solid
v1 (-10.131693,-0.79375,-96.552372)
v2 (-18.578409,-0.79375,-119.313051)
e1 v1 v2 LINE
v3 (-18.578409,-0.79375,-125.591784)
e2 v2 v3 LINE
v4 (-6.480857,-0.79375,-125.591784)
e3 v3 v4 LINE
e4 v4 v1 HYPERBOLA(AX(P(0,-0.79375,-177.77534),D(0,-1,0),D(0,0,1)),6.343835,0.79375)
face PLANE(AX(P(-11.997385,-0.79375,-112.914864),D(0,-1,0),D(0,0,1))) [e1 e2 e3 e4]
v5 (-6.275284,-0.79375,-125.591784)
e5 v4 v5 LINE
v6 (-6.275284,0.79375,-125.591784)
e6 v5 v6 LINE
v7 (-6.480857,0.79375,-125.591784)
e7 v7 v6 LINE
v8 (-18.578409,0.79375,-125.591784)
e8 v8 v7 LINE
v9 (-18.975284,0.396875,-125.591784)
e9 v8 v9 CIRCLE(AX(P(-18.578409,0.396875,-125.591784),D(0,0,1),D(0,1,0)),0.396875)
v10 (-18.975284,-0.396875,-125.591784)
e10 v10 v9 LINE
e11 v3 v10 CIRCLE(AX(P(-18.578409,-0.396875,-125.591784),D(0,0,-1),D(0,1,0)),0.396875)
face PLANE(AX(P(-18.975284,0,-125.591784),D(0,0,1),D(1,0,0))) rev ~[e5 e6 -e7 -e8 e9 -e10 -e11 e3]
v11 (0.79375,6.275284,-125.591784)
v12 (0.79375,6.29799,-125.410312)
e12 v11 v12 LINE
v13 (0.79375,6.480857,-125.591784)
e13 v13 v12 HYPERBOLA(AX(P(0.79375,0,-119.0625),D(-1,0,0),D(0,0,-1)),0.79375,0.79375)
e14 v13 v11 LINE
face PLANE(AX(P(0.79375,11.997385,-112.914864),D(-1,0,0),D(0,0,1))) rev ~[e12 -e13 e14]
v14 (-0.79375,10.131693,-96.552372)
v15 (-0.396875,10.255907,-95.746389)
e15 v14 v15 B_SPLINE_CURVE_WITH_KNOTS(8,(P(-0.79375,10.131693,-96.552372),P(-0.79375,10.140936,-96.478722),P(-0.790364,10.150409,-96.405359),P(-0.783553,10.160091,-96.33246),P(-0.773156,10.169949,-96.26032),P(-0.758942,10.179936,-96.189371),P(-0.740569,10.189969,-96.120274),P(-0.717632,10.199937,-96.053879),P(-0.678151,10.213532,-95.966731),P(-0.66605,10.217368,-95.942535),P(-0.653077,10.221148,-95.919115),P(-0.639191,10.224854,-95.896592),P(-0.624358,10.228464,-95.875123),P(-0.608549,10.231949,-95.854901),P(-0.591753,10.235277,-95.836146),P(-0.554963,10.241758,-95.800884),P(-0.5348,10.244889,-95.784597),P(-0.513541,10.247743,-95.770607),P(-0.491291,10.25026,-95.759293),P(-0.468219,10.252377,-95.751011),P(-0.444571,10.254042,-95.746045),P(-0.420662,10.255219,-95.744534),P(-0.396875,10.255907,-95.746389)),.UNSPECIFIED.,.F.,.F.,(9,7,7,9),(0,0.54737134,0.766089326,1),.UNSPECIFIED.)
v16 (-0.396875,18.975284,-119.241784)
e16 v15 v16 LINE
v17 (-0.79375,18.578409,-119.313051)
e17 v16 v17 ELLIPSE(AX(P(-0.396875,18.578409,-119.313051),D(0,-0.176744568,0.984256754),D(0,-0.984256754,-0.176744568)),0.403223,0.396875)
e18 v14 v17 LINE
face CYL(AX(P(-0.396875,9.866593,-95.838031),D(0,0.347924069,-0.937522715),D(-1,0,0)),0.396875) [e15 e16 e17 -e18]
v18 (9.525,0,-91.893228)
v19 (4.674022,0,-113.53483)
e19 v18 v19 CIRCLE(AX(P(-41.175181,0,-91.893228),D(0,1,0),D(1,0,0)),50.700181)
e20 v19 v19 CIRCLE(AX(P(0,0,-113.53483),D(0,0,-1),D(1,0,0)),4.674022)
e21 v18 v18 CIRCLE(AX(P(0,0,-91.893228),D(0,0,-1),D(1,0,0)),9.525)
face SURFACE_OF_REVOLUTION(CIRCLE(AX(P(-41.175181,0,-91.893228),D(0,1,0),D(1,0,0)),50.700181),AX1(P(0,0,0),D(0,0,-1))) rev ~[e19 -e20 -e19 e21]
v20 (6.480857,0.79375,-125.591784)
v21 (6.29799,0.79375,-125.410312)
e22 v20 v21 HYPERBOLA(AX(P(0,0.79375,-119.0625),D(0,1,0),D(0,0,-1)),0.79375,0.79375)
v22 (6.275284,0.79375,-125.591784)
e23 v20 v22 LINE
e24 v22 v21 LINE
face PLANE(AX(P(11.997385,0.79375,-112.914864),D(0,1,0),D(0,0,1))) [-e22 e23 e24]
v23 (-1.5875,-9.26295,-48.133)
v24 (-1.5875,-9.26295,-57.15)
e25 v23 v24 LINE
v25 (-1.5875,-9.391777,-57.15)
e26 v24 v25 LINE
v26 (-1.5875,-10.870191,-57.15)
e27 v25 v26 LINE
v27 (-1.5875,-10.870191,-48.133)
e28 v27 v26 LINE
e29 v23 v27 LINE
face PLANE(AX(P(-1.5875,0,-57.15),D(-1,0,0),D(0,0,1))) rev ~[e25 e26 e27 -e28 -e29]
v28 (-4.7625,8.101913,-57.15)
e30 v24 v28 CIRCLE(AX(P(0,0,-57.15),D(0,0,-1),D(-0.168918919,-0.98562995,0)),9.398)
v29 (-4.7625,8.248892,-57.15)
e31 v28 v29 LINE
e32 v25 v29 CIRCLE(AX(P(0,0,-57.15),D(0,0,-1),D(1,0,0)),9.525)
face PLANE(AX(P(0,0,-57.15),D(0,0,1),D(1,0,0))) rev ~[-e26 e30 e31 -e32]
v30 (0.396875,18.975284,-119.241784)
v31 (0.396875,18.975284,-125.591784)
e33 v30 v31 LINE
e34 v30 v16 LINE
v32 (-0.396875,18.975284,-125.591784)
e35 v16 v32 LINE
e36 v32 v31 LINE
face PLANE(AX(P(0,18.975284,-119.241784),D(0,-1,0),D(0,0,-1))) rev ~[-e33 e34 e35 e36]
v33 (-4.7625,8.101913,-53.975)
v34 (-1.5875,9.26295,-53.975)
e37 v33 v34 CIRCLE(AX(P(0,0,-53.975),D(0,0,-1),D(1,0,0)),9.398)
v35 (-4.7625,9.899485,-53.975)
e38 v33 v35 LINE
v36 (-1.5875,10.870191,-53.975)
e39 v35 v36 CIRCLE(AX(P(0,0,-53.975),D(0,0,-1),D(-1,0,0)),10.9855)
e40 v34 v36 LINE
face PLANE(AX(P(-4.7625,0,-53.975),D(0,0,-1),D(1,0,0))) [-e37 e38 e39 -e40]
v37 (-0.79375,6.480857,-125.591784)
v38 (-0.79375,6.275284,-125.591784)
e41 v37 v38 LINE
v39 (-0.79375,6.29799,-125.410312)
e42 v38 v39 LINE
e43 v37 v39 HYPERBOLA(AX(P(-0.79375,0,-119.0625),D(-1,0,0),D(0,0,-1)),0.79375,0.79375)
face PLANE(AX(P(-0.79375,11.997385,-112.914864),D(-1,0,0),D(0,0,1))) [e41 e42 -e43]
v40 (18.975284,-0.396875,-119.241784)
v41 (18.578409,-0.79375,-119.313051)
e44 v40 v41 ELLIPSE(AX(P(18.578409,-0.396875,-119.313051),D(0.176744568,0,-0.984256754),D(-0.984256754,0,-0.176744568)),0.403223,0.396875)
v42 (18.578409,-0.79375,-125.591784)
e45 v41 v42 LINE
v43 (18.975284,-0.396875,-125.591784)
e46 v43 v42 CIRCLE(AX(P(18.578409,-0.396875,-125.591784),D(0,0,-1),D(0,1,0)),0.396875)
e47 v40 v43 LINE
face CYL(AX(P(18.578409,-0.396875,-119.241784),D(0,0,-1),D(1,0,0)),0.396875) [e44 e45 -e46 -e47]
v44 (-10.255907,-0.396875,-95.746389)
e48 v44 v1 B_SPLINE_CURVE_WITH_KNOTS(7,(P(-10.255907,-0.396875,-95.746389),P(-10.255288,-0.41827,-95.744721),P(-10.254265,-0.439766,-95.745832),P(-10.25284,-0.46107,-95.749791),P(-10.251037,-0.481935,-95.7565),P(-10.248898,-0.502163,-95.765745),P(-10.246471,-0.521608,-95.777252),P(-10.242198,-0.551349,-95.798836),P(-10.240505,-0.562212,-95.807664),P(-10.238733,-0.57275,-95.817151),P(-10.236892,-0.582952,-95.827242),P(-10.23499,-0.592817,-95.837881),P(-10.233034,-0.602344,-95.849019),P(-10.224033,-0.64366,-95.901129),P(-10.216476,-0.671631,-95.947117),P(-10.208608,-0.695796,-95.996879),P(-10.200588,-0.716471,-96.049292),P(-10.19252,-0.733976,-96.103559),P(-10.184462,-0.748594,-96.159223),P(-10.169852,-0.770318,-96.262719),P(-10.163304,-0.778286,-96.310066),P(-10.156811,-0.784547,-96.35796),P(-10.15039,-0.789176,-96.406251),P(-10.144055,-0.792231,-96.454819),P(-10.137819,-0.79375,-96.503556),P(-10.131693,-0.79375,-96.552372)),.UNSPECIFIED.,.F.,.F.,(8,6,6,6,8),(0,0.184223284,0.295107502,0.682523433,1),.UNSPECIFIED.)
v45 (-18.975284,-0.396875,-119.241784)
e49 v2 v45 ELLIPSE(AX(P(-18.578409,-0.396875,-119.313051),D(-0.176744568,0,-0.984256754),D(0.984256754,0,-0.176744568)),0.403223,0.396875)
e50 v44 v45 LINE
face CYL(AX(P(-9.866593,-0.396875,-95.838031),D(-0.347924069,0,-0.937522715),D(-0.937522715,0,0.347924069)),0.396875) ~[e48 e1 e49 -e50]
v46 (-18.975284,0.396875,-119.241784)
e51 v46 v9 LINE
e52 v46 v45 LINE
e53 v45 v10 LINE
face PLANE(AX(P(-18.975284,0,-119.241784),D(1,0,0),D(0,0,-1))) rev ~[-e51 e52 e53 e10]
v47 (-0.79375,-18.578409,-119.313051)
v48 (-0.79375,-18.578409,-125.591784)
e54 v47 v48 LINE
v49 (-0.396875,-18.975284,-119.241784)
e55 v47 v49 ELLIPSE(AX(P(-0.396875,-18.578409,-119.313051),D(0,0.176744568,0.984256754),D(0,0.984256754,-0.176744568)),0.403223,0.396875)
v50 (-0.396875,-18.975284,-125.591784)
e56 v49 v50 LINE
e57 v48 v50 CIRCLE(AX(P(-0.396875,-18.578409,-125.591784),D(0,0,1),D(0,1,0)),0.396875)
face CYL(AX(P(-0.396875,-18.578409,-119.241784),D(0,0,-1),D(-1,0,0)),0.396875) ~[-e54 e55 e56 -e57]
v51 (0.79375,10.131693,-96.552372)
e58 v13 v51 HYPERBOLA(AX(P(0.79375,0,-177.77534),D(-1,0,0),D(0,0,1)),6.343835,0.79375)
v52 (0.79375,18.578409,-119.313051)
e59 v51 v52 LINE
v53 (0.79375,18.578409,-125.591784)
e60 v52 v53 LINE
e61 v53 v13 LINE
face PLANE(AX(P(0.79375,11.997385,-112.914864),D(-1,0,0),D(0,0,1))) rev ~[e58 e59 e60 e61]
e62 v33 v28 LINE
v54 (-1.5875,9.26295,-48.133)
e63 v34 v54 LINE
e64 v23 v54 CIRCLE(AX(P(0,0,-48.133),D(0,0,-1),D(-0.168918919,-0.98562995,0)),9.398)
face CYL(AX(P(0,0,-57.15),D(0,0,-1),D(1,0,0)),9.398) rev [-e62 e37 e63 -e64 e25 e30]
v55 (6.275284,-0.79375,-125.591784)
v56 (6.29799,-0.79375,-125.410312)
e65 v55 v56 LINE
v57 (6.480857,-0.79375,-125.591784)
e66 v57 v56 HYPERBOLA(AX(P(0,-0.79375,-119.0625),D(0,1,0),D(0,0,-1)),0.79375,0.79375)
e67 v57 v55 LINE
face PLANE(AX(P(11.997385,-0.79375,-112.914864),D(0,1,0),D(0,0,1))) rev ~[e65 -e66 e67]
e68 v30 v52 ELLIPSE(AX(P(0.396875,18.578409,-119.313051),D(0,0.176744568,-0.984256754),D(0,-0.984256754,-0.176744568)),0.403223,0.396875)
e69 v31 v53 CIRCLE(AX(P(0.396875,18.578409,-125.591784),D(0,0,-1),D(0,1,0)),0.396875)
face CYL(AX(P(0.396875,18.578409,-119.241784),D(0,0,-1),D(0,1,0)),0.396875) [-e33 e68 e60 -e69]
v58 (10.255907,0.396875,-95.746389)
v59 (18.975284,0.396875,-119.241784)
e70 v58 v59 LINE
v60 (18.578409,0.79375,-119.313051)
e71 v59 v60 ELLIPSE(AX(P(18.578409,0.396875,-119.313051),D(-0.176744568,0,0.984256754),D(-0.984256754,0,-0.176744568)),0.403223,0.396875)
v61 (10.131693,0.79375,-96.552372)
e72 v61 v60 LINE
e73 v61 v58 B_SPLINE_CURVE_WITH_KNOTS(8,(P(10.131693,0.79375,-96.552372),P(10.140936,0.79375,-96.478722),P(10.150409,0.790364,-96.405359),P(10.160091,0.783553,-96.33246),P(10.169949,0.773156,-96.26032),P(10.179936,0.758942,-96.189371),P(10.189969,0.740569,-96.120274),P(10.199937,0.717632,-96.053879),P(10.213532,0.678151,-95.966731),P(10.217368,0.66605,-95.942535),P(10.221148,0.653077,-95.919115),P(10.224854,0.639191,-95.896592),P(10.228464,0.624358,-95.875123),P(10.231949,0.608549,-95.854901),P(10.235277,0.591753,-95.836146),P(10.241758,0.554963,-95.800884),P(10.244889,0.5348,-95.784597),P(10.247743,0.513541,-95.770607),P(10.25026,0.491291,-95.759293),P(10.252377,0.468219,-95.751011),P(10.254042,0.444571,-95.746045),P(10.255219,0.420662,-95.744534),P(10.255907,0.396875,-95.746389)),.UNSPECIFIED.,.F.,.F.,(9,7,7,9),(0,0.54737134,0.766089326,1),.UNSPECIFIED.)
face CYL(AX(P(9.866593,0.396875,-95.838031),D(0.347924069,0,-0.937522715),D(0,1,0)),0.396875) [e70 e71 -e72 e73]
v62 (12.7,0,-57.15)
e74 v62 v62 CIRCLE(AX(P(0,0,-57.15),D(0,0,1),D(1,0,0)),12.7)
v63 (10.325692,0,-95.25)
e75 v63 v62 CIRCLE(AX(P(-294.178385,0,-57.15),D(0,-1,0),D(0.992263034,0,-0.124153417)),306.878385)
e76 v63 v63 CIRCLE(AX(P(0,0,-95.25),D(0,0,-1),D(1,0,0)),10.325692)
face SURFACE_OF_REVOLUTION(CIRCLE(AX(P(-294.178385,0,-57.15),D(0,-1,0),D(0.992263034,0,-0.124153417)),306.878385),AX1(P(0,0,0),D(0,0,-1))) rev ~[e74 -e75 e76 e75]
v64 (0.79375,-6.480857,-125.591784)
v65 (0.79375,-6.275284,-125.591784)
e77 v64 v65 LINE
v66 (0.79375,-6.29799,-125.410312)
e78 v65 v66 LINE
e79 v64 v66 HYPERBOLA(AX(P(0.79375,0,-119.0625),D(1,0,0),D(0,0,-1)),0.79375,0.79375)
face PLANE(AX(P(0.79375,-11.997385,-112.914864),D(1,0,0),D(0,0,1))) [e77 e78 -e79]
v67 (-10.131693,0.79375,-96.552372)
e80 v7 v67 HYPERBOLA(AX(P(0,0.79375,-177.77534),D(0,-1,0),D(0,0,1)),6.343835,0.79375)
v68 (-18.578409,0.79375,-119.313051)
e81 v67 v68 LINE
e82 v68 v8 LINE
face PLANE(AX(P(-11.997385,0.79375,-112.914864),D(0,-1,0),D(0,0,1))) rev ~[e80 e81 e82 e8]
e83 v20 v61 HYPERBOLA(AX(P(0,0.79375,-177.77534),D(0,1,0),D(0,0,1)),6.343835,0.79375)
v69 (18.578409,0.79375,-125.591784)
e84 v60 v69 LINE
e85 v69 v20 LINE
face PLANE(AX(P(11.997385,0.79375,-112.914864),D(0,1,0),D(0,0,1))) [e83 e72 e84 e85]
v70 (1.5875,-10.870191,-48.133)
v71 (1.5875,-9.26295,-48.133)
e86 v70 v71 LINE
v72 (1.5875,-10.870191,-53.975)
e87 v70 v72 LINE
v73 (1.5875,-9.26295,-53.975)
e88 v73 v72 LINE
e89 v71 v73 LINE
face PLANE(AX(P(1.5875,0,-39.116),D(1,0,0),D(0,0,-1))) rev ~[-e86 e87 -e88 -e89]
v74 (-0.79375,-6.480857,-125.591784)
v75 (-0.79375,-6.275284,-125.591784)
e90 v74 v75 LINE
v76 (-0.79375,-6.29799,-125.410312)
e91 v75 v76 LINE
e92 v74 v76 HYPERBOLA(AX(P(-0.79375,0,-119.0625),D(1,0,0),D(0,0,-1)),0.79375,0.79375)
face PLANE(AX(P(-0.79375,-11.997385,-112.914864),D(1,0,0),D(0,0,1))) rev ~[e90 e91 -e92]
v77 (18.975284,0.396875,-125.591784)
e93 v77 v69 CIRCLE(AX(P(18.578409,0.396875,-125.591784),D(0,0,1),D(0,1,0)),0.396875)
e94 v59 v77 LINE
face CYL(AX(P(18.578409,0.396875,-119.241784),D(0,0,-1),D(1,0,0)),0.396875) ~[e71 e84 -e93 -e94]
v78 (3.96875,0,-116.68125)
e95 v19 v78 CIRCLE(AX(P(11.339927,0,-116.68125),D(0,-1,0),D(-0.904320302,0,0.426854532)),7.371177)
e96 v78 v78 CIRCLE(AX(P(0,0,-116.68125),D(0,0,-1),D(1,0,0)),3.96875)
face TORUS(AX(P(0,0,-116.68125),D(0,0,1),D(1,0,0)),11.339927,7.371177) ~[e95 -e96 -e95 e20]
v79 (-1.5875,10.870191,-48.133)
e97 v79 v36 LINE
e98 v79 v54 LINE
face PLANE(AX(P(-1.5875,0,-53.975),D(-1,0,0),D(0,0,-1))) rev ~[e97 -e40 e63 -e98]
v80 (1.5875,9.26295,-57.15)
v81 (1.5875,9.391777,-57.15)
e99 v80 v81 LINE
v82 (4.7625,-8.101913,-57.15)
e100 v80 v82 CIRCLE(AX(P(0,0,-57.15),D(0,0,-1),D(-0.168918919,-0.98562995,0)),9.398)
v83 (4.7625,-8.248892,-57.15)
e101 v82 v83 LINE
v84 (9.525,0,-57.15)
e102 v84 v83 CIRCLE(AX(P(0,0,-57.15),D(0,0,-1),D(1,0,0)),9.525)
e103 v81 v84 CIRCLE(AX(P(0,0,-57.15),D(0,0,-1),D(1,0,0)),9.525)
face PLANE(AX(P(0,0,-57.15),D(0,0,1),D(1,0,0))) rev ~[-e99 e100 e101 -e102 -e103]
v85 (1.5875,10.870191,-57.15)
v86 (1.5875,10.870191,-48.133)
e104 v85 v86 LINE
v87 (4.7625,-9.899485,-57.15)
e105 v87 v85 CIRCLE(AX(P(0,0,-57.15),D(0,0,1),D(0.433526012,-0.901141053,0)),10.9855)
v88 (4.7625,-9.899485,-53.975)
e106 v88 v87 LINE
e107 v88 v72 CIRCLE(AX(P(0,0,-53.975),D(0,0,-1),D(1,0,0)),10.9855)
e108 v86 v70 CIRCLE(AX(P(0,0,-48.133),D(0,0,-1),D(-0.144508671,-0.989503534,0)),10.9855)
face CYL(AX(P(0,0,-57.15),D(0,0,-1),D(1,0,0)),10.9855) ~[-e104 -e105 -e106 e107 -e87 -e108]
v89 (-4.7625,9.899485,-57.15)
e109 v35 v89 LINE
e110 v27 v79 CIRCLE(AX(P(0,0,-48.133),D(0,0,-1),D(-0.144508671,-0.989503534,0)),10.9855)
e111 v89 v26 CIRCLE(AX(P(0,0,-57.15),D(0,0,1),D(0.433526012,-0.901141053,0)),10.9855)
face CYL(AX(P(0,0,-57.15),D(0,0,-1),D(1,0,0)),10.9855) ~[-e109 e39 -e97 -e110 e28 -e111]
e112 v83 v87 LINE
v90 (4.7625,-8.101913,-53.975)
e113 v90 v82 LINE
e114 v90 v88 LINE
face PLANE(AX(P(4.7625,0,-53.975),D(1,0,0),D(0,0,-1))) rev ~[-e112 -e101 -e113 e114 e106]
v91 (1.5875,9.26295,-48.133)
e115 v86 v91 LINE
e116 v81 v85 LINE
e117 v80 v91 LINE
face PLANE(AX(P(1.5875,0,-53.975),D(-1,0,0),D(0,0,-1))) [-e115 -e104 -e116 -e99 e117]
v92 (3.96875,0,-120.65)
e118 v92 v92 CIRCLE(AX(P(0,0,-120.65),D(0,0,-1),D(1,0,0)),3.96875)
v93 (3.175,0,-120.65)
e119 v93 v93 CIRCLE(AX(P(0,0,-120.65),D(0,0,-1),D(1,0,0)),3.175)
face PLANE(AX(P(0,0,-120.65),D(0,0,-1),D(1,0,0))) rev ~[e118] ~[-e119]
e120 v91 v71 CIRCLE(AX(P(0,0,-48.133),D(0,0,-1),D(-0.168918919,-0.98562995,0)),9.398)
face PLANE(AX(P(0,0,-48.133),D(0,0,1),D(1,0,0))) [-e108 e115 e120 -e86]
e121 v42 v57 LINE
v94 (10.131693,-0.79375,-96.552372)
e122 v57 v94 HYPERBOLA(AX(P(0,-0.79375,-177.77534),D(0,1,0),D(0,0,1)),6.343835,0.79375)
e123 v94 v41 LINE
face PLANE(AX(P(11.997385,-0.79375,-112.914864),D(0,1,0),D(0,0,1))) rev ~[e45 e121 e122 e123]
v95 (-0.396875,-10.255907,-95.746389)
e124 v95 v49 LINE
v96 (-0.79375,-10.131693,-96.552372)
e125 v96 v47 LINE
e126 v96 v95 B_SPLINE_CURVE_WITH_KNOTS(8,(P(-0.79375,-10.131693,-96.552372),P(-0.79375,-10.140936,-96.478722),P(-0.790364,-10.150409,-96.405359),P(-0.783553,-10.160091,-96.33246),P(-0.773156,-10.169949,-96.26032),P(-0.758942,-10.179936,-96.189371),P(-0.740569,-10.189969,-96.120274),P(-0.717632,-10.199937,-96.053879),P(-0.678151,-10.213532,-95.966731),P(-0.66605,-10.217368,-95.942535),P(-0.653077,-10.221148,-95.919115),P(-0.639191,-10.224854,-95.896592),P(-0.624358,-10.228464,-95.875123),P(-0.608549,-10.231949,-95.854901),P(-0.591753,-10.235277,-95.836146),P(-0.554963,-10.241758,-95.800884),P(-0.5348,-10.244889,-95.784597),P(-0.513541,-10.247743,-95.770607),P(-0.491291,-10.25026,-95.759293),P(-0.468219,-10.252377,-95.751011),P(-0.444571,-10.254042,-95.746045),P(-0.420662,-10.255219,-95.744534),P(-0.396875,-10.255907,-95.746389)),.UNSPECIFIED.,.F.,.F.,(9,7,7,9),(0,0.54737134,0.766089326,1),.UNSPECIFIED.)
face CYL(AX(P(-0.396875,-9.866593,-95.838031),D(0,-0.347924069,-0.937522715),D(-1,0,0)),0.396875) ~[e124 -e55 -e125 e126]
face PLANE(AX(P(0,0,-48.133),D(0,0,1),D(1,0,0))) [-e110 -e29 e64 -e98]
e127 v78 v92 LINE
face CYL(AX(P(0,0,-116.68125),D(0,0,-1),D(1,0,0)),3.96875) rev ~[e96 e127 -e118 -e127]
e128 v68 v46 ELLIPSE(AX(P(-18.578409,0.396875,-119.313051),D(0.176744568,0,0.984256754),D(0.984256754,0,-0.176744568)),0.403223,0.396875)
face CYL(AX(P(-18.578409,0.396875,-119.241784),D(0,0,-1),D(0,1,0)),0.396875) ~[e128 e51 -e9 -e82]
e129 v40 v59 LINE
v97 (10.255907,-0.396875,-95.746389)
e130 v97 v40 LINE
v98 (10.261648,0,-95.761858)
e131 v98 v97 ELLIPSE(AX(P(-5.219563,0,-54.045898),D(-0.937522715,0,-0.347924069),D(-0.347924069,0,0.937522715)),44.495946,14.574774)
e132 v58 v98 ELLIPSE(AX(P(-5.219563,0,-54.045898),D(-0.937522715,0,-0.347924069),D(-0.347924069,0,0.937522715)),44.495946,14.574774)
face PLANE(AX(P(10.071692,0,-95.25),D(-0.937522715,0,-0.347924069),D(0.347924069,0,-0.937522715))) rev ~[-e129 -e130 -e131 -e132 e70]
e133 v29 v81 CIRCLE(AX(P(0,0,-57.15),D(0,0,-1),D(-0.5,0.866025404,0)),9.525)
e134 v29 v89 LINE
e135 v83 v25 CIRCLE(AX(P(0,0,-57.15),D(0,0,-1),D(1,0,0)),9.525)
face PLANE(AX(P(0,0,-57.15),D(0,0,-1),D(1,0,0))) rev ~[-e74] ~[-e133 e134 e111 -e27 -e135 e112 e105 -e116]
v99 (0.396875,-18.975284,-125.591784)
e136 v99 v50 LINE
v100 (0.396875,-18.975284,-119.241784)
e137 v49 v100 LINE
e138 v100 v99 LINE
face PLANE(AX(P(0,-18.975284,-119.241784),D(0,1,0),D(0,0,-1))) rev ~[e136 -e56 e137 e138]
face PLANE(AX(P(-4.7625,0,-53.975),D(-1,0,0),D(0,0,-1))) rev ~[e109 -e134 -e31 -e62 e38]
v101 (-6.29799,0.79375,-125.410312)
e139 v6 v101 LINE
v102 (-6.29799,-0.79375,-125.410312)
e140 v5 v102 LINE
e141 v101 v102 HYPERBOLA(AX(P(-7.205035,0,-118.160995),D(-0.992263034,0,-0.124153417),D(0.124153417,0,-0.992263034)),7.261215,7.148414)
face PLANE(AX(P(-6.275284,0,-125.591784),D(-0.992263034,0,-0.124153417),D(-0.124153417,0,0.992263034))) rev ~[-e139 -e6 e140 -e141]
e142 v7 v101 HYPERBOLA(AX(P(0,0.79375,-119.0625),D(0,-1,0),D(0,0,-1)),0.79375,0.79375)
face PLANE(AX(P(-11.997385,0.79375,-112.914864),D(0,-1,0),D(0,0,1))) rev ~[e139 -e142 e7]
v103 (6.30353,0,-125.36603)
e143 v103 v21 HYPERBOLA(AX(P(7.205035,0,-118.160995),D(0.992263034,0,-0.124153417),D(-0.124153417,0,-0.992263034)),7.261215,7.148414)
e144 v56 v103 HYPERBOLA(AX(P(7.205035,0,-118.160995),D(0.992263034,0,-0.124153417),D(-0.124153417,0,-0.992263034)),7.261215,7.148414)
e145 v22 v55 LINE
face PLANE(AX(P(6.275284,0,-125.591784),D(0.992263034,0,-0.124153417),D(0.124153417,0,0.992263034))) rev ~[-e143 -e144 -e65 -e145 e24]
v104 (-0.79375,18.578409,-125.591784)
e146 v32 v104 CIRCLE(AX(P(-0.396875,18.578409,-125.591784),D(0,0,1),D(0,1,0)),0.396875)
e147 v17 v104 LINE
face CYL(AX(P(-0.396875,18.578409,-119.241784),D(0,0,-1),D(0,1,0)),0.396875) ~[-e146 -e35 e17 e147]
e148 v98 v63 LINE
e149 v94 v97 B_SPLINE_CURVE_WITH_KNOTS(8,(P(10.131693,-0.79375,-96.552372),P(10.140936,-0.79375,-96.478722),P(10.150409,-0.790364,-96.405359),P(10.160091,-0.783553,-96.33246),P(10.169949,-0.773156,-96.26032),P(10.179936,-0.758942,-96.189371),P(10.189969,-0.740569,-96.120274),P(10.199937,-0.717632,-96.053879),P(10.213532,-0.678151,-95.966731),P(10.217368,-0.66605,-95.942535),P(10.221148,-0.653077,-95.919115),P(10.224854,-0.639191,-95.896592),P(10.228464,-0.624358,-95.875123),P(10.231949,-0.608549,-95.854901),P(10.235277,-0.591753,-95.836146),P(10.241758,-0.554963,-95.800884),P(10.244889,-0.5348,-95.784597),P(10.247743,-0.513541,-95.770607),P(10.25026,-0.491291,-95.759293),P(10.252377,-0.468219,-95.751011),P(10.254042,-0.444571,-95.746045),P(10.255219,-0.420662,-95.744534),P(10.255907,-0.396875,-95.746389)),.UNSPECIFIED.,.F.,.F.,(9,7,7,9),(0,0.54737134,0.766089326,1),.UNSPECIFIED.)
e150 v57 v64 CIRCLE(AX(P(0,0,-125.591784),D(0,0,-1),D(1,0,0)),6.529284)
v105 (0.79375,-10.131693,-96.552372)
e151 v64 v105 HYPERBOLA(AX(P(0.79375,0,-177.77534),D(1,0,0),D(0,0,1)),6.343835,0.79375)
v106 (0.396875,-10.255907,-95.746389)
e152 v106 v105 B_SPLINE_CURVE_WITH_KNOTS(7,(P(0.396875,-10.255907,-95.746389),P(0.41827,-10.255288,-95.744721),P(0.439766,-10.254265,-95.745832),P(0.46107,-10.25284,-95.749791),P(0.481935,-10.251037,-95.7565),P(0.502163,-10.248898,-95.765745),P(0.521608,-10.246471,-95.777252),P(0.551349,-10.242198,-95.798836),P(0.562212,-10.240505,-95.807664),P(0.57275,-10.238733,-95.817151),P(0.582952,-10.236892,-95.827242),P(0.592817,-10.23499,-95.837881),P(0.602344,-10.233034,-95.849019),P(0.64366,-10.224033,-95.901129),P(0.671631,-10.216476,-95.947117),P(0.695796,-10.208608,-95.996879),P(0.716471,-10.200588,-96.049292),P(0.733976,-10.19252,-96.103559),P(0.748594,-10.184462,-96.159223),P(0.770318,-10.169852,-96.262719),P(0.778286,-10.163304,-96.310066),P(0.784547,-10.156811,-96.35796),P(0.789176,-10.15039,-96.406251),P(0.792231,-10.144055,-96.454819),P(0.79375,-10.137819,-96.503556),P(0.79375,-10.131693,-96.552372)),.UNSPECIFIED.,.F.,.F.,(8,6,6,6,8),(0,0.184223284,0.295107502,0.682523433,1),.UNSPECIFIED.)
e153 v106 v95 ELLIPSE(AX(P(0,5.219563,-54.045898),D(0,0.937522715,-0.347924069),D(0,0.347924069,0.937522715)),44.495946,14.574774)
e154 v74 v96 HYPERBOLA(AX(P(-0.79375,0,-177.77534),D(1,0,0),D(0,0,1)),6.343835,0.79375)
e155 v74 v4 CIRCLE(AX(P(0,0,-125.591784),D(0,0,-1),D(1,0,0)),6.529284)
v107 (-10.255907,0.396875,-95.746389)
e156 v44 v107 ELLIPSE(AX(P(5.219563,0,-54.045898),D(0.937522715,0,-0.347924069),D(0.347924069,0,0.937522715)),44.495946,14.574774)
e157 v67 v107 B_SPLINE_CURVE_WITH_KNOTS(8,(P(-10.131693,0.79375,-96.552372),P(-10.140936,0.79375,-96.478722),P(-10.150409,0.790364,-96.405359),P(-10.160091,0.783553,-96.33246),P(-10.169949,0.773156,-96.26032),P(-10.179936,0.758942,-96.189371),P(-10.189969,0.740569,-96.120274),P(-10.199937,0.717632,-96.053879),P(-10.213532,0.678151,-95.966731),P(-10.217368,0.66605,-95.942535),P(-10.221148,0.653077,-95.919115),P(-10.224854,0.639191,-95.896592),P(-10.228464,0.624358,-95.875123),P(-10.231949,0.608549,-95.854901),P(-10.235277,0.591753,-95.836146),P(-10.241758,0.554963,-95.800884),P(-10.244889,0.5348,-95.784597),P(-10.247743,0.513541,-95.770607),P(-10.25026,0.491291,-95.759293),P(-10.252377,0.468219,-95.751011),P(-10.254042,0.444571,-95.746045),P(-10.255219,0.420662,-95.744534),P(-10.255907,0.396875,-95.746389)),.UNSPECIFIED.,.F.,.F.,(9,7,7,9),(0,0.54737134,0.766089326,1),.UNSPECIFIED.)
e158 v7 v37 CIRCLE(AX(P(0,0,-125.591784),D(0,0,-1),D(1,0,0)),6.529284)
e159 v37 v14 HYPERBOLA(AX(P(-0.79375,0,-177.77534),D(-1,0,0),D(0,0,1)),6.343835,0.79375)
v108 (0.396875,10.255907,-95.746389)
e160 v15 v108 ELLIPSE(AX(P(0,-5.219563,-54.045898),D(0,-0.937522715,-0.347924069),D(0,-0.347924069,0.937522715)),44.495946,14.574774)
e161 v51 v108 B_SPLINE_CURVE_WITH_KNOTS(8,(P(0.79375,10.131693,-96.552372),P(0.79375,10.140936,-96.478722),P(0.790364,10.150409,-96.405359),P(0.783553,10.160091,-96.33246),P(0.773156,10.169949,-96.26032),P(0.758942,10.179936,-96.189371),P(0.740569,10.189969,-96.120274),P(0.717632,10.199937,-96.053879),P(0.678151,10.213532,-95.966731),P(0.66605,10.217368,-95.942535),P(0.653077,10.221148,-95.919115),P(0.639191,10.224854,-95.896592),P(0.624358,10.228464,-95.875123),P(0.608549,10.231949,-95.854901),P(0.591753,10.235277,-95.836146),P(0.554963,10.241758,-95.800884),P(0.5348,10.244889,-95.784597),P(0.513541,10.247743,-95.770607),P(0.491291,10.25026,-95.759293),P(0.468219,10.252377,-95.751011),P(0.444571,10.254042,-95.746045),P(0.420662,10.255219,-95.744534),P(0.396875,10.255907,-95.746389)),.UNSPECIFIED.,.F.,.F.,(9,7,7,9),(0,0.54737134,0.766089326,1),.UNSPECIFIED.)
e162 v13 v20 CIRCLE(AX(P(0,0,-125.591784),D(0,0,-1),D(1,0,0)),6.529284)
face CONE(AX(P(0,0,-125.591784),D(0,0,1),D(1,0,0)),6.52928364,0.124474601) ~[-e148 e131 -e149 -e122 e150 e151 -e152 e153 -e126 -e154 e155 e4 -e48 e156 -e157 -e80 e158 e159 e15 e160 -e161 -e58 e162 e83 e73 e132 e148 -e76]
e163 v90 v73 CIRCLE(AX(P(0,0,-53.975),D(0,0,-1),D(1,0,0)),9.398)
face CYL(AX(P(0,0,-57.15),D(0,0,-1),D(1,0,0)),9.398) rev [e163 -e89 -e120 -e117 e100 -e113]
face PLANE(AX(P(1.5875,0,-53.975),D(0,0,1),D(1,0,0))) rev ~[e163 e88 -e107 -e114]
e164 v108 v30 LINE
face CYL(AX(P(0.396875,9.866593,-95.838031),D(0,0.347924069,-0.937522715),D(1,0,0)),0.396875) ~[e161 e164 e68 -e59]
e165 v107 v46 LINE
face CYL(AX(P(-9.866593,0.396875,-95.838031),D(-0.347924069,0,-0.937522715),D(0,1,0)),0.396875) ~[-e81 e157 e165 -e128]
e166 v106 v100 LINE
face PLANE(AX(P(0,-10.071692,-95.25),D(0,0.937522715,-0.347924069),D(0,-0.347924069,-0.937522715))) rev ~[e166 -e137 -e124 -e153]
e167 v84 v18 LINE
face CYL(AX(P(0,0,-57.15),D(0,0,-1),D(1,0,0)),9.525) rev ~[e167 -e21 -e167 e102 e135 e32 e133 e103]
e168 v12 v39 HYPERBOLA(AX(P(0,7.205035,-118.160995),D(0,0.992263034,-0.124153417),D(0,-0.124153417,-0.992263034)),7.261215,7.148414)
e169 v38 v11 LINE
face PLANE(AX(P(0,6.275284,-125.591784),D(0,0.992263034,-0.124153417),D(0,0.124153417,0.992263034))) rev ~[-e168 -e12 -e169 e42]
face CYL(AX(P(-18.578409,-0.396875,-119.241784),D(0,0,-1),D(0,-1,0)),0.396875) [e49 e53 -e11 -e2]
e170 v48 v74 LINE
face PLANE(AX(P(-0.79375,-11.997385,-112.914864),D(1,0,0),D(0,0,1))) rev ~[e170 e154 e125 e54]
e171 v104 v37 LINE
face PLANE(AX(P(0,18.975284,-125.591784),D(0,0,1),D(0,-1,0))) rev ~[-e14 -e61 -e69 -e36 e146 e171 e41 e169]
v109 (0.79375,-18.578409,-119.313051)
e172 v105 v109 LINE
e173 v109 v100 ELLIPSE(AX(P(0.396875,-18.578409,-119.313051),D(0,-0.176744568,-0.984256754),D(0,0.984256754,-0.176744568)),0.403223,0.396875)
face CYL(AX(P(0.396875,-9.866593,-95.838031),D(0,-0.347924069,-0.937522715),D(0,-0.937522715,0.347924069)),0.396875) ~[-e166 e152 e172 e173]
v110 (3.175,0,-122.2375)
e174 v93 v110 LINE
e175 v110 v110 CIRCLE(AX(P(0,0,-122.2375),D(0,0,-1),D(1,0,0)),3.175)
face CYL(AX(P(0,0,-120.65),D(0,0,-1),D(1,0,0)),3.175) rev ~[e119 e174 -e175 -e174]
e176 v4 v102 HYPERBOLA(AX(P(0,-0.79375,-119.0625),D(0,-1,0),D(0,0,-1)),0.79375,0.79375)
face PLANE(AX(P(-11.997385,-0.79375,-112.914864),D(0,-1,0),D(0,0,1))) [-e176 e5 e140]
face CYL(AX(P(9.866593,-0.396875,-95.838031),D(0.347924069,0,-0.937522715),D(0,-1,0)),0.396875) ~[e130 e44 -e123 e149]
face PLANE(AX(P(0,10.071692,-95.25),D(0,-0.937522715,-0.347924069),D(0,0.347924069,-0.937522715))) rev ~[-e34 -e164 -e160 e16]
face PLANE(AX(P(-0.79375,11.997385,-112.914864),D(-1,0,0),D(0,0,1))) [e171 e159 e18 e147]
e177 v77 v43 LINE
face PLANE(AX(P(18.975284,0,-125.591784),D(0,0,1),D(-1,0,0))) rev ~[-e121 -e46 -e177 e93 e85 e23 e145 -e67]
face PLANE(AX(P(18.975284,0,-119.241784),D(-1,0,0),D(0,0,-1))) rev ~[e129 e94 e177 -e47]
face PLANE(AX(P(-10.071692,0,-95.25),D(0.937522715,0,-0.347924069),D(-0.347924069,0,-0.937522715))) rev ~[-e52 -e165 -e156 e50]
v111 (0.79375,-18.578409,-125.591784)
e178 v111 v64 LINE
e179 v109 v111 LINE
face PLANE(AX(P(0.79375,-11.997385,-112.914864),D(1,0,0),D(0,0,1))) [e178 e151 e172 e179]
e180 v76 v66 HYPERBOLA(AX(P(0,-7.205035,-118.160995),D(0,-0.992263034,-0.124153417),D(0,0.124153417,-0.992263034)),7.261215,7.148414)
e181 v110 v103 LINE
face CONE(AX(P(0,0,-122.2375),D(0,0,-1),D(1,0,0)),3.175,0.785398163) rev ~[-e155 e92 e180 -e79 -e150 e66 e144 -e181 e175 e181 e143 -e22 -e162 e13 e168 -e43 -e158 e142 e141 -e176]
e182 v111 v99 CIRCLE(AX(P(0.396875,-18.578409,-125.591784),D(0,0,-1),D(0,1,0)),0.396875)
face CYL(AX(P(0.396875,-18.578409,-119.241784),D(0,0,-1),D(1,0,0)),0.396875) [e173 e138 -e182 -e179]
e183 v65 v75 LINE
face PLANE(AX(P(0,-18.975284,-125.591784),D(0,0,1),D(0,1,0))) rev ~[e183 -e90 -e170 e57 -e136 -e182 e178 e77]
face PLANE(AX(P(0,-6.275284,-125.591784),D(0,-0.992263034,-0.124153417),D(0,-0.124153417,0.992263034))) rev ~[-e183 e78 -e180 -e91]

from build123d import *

# Parameters (mm, degrees)
BOSS_EXTRUDE2_DEPTH      = 0.79375
FILLET2_R                = 0.396875
CIRPATTERN5_COUNT        = 4
FILLET2_OF_CIRPATTERN5_R = 0.396875
SKETCH6_R                = 10.9855
SKETCH6_R_2              = 9.398
BOSS_EXTRUDE3_DEPTH      = 9.017
SKETCH8_W                = 3.175
SKETCH8_H                = 14.859
SKETCH8_H_2              = 3.175
CUT_EXTRUDE1_DEPTH       = 129.426706448
CUT_EXTRUDE2_REACH       = 130.427
CUT_EXTRUDE2_END_RADIUS  = 10.9855
SKETCH8_3_W              = 3.175
SKETCH8_3_H              = 14.859
SKETCH8_3_H_2            = 3.175


with BuildPart() as part:
    # Sketch3 → Revolve2 (revolve)
    with BuildSketch(Plane(origin=(0, 0, 0), x_dir=(0, 0, -1), z_dir=(1, 0, 0)), mode=Mode.PRIVATE) as revolve2_sk:
        with BuildLine():
            Line((57.15, 12.7), (57.15, 9.525))
            Line((57.15, 9.525), (91.893227671, 9.525))
            ThreePointArc((91.893227671, 9.525), (102.982534669, 8.29739345), (113.534829541, 4.674022024))
            ThreePointArc((113.534829541, 4.674022024), (115.069002319, 4.147228765), (116.68125, 3.96875))
            Line((116.68125, 3.96875), (120.65, 3.96875))
            Line((120.65, 3.96875), (120.65, 3.175))
            Line((120.65, 3.175), (122.2375, 3.175))
            Line((122.2375, 3.175), (125.59178364, 6.52928364))
            Line((125.59178364, 6.52928364), (95.25, 10.32569244))
            ThreePointArc((95.25, 10.32569244), (76.236954553, 12.105847936), (57.15, 12.7))
        make_face()
    revolve(revolve2_sk.sketch.rotate(Axis((0, 0, 0), (0, 0, -1)), 90), axis=Axis((0, 0, 0), (0, 0, -1)))

    # Sketch5 → Boss-Extrude2 (add, symmetric)
    with BuildSketch(Plane(origin=(0, 0, 0), x_dir=(0, 0, -1), z_dir=(1, 0, 0))):
        Polygon((125.59178364, 6.27528364), (95.25, 10.07169244), (119.24178364, 18.97528364), (125.59178364, 18.97528364), align=None)
    boss_extrude2 = extrude(amount=BOSS_EXTRUDE2_DEPTH, both=True)

    # Fillet2
    fillet2_edges = [part.edges().sort_by_distance(p)[0] for p in [
        (0.79375, 18.97528364, -122.41678364),
        (-0.79375, 18.97528364, -122.41678364),
        (0.79375, 14.606978185, -107.47086593),
        (-0.79375, 14.606978185, -107.47086593),
    ]]
    fillet(fillet2_edges, radius=FILLET2_R)

    # CirPattern5: Boss-Extrude2 ×4 about axis
    cirpattern5_axis = Axis((0, 0, 0), (0, 0, 1))
    for i in range(1, CIRPATTERN5_COUNT):
        add(boss_extrude2.rotate(cirpattern5_axis, i * 360 / CIRPATTERN5_COUNT))

    # Fillet2 of CirPattern5
    fillet2_of_cirpattern5_edges = [part.edges().sort_by_distance(p)[0] for p in [
        (-18.97528364, 0.79375, -122.41678364),
        (-18.97528364, -0.79375, -122.41678364),
        (-14.606978185, 0.79375, -107.47086593),
        (-14.606978185, -0.79375, -107.47086593),
        (-0.79375, -18.97528364, -122.41678364),
        (0.79375, -18.97528364, -122.41678364),
        (-0.79375, -14.606978185, -107.47086593),
        (0.79375, -14.606978185, -107.47086593),
        (18.97528364, -0.79375, -122.41678364),
        (18.97528364, 0.79375, -122.41678364),
        (14.606978185, -0.79375, -107.47086593),
        (14.606978185, 0.79375, -107.47086593),
    ]]
    fillet(fillet2_of_cirpattern5_edges, radius=FILLET2_OF_CIRPATTERN5_R)

    # Sketch6 → Boss-Extrude3 (add)
    with BuildSketch(Plane.XY.offset(-57.15)):
        Circle(SKETCH6_R)
        Circle(SKETCH6_R_2, mode=Mode.SUBTRACT)
    extrude(amount=BOSS_EXTRUDE3_DEPTH)

    # Sketch8 → Cut-Extrude1 (cut, through all)
    with BuildSketch(Plane(origin=(0, 0, 0), x_dir=(1, 0, 0), z_dir=(0, 1, 0))):
        with Locations((0, 46.5455)):
            Rectangle(SKETCH8_W, SKETCH8_H)
        with Locations((0, 55.5625)):
            Rectangle(SKETCH8_W, SKETCH8_H_2)
        with Locations((3.175, 55.5625)):
            Rectangle(SKETCH8_W, SKETCH8_H_2)
    extrude(amount=-CUT_EXTRUDE1_DEPTH, mode=Mode.SUBTRACT)

    # Cut-Extrude2: up to this cylinder (the profile starts inside it)
    cut_extrude2_end = Plane(origin=(0, 0, -51.054), z_dir=(0, 0, -1)) * Cylinder(CUT_EXTRUDE2_END_RADIUS, 292.842, mode=Mode.PRIVATE)
    # Sketch8<3> → Cut-Extrude2 (cut, up to the surface)
    with BuildSketch(Plane(origin=(0, 0, 0), x_dir=(1, 0, 0), z_dir=(0, 1, 0)), mode=Mode.PRIVATE) as cut_extrude2_sk1:
        with Locations((0, 46.5455)):
            Rectangle(SKETCH8_3_W, SKETCH8_3_H)
    cut_extrude2_tool1 = extrude(cut_extrude2_sk1.sketch, amount=CUT_EXTRUDE2_REACH, mode=Mode.PRIVATE) & cut_extrude2_end
    add(cut_extrude2_tool1.solids().sort_by_distance((0, 0, -46.5455))[0], mode=Mode.SUBTRACT)
    # Sketch8<3> → Cut-Extrude2 (cut, up to the surface)
    with BuildSketch(Plane(origin=(0, 0, 0), x_dir=(1, 0, 0), z_dir=(0, 1, 0)), mode=Mode.PRIVATE) as cut_extrude2_sk2:
        with Locations((0, 55.5625)):
            Rectangle(SKETCH8_3_W, SKETCH8_3_H_2)
    cut_extrude2_tool2 = extrude(cut_extrude2_sk2.sketch, amount=CUT_EXTRUDE2_REACH, mode=Mode.PRIVATE) & cut_extrude2_end
    add(cut_extrude2_tool2.solids().sort_by_distance((0, 0, -55.5625))[0], mode=Mode.SUBTRACT)
    # Sketch8<3> → Cut-Extrude2 (cut, up to the surface)
    with BuildSketch(Plane(origin=(0, 0, 0), x_dir=(1, 0, 0), z_dir=(0, 1, 0)), mode=Mode.PRIVATE) as cut_extrude2_sk3:
        with Locations((-3.175, 55.5625)):
            Rectangle(SKETCH8_3_W, SKETCH8_3_H_2)
    cut_extrude2_tool3 = extrude(cut_extrude2_sk3.sketch, amount=CUT_EXTRUDE2_REACH, mode=Mode.PRIVATE) & cut_extrude2_end
    add(cut_extrude2_tool3.solids().sort_by_distance((-3.175, 0, -55.5625))[0], mode=Mode.SUBTRACT)


solid = part.part
